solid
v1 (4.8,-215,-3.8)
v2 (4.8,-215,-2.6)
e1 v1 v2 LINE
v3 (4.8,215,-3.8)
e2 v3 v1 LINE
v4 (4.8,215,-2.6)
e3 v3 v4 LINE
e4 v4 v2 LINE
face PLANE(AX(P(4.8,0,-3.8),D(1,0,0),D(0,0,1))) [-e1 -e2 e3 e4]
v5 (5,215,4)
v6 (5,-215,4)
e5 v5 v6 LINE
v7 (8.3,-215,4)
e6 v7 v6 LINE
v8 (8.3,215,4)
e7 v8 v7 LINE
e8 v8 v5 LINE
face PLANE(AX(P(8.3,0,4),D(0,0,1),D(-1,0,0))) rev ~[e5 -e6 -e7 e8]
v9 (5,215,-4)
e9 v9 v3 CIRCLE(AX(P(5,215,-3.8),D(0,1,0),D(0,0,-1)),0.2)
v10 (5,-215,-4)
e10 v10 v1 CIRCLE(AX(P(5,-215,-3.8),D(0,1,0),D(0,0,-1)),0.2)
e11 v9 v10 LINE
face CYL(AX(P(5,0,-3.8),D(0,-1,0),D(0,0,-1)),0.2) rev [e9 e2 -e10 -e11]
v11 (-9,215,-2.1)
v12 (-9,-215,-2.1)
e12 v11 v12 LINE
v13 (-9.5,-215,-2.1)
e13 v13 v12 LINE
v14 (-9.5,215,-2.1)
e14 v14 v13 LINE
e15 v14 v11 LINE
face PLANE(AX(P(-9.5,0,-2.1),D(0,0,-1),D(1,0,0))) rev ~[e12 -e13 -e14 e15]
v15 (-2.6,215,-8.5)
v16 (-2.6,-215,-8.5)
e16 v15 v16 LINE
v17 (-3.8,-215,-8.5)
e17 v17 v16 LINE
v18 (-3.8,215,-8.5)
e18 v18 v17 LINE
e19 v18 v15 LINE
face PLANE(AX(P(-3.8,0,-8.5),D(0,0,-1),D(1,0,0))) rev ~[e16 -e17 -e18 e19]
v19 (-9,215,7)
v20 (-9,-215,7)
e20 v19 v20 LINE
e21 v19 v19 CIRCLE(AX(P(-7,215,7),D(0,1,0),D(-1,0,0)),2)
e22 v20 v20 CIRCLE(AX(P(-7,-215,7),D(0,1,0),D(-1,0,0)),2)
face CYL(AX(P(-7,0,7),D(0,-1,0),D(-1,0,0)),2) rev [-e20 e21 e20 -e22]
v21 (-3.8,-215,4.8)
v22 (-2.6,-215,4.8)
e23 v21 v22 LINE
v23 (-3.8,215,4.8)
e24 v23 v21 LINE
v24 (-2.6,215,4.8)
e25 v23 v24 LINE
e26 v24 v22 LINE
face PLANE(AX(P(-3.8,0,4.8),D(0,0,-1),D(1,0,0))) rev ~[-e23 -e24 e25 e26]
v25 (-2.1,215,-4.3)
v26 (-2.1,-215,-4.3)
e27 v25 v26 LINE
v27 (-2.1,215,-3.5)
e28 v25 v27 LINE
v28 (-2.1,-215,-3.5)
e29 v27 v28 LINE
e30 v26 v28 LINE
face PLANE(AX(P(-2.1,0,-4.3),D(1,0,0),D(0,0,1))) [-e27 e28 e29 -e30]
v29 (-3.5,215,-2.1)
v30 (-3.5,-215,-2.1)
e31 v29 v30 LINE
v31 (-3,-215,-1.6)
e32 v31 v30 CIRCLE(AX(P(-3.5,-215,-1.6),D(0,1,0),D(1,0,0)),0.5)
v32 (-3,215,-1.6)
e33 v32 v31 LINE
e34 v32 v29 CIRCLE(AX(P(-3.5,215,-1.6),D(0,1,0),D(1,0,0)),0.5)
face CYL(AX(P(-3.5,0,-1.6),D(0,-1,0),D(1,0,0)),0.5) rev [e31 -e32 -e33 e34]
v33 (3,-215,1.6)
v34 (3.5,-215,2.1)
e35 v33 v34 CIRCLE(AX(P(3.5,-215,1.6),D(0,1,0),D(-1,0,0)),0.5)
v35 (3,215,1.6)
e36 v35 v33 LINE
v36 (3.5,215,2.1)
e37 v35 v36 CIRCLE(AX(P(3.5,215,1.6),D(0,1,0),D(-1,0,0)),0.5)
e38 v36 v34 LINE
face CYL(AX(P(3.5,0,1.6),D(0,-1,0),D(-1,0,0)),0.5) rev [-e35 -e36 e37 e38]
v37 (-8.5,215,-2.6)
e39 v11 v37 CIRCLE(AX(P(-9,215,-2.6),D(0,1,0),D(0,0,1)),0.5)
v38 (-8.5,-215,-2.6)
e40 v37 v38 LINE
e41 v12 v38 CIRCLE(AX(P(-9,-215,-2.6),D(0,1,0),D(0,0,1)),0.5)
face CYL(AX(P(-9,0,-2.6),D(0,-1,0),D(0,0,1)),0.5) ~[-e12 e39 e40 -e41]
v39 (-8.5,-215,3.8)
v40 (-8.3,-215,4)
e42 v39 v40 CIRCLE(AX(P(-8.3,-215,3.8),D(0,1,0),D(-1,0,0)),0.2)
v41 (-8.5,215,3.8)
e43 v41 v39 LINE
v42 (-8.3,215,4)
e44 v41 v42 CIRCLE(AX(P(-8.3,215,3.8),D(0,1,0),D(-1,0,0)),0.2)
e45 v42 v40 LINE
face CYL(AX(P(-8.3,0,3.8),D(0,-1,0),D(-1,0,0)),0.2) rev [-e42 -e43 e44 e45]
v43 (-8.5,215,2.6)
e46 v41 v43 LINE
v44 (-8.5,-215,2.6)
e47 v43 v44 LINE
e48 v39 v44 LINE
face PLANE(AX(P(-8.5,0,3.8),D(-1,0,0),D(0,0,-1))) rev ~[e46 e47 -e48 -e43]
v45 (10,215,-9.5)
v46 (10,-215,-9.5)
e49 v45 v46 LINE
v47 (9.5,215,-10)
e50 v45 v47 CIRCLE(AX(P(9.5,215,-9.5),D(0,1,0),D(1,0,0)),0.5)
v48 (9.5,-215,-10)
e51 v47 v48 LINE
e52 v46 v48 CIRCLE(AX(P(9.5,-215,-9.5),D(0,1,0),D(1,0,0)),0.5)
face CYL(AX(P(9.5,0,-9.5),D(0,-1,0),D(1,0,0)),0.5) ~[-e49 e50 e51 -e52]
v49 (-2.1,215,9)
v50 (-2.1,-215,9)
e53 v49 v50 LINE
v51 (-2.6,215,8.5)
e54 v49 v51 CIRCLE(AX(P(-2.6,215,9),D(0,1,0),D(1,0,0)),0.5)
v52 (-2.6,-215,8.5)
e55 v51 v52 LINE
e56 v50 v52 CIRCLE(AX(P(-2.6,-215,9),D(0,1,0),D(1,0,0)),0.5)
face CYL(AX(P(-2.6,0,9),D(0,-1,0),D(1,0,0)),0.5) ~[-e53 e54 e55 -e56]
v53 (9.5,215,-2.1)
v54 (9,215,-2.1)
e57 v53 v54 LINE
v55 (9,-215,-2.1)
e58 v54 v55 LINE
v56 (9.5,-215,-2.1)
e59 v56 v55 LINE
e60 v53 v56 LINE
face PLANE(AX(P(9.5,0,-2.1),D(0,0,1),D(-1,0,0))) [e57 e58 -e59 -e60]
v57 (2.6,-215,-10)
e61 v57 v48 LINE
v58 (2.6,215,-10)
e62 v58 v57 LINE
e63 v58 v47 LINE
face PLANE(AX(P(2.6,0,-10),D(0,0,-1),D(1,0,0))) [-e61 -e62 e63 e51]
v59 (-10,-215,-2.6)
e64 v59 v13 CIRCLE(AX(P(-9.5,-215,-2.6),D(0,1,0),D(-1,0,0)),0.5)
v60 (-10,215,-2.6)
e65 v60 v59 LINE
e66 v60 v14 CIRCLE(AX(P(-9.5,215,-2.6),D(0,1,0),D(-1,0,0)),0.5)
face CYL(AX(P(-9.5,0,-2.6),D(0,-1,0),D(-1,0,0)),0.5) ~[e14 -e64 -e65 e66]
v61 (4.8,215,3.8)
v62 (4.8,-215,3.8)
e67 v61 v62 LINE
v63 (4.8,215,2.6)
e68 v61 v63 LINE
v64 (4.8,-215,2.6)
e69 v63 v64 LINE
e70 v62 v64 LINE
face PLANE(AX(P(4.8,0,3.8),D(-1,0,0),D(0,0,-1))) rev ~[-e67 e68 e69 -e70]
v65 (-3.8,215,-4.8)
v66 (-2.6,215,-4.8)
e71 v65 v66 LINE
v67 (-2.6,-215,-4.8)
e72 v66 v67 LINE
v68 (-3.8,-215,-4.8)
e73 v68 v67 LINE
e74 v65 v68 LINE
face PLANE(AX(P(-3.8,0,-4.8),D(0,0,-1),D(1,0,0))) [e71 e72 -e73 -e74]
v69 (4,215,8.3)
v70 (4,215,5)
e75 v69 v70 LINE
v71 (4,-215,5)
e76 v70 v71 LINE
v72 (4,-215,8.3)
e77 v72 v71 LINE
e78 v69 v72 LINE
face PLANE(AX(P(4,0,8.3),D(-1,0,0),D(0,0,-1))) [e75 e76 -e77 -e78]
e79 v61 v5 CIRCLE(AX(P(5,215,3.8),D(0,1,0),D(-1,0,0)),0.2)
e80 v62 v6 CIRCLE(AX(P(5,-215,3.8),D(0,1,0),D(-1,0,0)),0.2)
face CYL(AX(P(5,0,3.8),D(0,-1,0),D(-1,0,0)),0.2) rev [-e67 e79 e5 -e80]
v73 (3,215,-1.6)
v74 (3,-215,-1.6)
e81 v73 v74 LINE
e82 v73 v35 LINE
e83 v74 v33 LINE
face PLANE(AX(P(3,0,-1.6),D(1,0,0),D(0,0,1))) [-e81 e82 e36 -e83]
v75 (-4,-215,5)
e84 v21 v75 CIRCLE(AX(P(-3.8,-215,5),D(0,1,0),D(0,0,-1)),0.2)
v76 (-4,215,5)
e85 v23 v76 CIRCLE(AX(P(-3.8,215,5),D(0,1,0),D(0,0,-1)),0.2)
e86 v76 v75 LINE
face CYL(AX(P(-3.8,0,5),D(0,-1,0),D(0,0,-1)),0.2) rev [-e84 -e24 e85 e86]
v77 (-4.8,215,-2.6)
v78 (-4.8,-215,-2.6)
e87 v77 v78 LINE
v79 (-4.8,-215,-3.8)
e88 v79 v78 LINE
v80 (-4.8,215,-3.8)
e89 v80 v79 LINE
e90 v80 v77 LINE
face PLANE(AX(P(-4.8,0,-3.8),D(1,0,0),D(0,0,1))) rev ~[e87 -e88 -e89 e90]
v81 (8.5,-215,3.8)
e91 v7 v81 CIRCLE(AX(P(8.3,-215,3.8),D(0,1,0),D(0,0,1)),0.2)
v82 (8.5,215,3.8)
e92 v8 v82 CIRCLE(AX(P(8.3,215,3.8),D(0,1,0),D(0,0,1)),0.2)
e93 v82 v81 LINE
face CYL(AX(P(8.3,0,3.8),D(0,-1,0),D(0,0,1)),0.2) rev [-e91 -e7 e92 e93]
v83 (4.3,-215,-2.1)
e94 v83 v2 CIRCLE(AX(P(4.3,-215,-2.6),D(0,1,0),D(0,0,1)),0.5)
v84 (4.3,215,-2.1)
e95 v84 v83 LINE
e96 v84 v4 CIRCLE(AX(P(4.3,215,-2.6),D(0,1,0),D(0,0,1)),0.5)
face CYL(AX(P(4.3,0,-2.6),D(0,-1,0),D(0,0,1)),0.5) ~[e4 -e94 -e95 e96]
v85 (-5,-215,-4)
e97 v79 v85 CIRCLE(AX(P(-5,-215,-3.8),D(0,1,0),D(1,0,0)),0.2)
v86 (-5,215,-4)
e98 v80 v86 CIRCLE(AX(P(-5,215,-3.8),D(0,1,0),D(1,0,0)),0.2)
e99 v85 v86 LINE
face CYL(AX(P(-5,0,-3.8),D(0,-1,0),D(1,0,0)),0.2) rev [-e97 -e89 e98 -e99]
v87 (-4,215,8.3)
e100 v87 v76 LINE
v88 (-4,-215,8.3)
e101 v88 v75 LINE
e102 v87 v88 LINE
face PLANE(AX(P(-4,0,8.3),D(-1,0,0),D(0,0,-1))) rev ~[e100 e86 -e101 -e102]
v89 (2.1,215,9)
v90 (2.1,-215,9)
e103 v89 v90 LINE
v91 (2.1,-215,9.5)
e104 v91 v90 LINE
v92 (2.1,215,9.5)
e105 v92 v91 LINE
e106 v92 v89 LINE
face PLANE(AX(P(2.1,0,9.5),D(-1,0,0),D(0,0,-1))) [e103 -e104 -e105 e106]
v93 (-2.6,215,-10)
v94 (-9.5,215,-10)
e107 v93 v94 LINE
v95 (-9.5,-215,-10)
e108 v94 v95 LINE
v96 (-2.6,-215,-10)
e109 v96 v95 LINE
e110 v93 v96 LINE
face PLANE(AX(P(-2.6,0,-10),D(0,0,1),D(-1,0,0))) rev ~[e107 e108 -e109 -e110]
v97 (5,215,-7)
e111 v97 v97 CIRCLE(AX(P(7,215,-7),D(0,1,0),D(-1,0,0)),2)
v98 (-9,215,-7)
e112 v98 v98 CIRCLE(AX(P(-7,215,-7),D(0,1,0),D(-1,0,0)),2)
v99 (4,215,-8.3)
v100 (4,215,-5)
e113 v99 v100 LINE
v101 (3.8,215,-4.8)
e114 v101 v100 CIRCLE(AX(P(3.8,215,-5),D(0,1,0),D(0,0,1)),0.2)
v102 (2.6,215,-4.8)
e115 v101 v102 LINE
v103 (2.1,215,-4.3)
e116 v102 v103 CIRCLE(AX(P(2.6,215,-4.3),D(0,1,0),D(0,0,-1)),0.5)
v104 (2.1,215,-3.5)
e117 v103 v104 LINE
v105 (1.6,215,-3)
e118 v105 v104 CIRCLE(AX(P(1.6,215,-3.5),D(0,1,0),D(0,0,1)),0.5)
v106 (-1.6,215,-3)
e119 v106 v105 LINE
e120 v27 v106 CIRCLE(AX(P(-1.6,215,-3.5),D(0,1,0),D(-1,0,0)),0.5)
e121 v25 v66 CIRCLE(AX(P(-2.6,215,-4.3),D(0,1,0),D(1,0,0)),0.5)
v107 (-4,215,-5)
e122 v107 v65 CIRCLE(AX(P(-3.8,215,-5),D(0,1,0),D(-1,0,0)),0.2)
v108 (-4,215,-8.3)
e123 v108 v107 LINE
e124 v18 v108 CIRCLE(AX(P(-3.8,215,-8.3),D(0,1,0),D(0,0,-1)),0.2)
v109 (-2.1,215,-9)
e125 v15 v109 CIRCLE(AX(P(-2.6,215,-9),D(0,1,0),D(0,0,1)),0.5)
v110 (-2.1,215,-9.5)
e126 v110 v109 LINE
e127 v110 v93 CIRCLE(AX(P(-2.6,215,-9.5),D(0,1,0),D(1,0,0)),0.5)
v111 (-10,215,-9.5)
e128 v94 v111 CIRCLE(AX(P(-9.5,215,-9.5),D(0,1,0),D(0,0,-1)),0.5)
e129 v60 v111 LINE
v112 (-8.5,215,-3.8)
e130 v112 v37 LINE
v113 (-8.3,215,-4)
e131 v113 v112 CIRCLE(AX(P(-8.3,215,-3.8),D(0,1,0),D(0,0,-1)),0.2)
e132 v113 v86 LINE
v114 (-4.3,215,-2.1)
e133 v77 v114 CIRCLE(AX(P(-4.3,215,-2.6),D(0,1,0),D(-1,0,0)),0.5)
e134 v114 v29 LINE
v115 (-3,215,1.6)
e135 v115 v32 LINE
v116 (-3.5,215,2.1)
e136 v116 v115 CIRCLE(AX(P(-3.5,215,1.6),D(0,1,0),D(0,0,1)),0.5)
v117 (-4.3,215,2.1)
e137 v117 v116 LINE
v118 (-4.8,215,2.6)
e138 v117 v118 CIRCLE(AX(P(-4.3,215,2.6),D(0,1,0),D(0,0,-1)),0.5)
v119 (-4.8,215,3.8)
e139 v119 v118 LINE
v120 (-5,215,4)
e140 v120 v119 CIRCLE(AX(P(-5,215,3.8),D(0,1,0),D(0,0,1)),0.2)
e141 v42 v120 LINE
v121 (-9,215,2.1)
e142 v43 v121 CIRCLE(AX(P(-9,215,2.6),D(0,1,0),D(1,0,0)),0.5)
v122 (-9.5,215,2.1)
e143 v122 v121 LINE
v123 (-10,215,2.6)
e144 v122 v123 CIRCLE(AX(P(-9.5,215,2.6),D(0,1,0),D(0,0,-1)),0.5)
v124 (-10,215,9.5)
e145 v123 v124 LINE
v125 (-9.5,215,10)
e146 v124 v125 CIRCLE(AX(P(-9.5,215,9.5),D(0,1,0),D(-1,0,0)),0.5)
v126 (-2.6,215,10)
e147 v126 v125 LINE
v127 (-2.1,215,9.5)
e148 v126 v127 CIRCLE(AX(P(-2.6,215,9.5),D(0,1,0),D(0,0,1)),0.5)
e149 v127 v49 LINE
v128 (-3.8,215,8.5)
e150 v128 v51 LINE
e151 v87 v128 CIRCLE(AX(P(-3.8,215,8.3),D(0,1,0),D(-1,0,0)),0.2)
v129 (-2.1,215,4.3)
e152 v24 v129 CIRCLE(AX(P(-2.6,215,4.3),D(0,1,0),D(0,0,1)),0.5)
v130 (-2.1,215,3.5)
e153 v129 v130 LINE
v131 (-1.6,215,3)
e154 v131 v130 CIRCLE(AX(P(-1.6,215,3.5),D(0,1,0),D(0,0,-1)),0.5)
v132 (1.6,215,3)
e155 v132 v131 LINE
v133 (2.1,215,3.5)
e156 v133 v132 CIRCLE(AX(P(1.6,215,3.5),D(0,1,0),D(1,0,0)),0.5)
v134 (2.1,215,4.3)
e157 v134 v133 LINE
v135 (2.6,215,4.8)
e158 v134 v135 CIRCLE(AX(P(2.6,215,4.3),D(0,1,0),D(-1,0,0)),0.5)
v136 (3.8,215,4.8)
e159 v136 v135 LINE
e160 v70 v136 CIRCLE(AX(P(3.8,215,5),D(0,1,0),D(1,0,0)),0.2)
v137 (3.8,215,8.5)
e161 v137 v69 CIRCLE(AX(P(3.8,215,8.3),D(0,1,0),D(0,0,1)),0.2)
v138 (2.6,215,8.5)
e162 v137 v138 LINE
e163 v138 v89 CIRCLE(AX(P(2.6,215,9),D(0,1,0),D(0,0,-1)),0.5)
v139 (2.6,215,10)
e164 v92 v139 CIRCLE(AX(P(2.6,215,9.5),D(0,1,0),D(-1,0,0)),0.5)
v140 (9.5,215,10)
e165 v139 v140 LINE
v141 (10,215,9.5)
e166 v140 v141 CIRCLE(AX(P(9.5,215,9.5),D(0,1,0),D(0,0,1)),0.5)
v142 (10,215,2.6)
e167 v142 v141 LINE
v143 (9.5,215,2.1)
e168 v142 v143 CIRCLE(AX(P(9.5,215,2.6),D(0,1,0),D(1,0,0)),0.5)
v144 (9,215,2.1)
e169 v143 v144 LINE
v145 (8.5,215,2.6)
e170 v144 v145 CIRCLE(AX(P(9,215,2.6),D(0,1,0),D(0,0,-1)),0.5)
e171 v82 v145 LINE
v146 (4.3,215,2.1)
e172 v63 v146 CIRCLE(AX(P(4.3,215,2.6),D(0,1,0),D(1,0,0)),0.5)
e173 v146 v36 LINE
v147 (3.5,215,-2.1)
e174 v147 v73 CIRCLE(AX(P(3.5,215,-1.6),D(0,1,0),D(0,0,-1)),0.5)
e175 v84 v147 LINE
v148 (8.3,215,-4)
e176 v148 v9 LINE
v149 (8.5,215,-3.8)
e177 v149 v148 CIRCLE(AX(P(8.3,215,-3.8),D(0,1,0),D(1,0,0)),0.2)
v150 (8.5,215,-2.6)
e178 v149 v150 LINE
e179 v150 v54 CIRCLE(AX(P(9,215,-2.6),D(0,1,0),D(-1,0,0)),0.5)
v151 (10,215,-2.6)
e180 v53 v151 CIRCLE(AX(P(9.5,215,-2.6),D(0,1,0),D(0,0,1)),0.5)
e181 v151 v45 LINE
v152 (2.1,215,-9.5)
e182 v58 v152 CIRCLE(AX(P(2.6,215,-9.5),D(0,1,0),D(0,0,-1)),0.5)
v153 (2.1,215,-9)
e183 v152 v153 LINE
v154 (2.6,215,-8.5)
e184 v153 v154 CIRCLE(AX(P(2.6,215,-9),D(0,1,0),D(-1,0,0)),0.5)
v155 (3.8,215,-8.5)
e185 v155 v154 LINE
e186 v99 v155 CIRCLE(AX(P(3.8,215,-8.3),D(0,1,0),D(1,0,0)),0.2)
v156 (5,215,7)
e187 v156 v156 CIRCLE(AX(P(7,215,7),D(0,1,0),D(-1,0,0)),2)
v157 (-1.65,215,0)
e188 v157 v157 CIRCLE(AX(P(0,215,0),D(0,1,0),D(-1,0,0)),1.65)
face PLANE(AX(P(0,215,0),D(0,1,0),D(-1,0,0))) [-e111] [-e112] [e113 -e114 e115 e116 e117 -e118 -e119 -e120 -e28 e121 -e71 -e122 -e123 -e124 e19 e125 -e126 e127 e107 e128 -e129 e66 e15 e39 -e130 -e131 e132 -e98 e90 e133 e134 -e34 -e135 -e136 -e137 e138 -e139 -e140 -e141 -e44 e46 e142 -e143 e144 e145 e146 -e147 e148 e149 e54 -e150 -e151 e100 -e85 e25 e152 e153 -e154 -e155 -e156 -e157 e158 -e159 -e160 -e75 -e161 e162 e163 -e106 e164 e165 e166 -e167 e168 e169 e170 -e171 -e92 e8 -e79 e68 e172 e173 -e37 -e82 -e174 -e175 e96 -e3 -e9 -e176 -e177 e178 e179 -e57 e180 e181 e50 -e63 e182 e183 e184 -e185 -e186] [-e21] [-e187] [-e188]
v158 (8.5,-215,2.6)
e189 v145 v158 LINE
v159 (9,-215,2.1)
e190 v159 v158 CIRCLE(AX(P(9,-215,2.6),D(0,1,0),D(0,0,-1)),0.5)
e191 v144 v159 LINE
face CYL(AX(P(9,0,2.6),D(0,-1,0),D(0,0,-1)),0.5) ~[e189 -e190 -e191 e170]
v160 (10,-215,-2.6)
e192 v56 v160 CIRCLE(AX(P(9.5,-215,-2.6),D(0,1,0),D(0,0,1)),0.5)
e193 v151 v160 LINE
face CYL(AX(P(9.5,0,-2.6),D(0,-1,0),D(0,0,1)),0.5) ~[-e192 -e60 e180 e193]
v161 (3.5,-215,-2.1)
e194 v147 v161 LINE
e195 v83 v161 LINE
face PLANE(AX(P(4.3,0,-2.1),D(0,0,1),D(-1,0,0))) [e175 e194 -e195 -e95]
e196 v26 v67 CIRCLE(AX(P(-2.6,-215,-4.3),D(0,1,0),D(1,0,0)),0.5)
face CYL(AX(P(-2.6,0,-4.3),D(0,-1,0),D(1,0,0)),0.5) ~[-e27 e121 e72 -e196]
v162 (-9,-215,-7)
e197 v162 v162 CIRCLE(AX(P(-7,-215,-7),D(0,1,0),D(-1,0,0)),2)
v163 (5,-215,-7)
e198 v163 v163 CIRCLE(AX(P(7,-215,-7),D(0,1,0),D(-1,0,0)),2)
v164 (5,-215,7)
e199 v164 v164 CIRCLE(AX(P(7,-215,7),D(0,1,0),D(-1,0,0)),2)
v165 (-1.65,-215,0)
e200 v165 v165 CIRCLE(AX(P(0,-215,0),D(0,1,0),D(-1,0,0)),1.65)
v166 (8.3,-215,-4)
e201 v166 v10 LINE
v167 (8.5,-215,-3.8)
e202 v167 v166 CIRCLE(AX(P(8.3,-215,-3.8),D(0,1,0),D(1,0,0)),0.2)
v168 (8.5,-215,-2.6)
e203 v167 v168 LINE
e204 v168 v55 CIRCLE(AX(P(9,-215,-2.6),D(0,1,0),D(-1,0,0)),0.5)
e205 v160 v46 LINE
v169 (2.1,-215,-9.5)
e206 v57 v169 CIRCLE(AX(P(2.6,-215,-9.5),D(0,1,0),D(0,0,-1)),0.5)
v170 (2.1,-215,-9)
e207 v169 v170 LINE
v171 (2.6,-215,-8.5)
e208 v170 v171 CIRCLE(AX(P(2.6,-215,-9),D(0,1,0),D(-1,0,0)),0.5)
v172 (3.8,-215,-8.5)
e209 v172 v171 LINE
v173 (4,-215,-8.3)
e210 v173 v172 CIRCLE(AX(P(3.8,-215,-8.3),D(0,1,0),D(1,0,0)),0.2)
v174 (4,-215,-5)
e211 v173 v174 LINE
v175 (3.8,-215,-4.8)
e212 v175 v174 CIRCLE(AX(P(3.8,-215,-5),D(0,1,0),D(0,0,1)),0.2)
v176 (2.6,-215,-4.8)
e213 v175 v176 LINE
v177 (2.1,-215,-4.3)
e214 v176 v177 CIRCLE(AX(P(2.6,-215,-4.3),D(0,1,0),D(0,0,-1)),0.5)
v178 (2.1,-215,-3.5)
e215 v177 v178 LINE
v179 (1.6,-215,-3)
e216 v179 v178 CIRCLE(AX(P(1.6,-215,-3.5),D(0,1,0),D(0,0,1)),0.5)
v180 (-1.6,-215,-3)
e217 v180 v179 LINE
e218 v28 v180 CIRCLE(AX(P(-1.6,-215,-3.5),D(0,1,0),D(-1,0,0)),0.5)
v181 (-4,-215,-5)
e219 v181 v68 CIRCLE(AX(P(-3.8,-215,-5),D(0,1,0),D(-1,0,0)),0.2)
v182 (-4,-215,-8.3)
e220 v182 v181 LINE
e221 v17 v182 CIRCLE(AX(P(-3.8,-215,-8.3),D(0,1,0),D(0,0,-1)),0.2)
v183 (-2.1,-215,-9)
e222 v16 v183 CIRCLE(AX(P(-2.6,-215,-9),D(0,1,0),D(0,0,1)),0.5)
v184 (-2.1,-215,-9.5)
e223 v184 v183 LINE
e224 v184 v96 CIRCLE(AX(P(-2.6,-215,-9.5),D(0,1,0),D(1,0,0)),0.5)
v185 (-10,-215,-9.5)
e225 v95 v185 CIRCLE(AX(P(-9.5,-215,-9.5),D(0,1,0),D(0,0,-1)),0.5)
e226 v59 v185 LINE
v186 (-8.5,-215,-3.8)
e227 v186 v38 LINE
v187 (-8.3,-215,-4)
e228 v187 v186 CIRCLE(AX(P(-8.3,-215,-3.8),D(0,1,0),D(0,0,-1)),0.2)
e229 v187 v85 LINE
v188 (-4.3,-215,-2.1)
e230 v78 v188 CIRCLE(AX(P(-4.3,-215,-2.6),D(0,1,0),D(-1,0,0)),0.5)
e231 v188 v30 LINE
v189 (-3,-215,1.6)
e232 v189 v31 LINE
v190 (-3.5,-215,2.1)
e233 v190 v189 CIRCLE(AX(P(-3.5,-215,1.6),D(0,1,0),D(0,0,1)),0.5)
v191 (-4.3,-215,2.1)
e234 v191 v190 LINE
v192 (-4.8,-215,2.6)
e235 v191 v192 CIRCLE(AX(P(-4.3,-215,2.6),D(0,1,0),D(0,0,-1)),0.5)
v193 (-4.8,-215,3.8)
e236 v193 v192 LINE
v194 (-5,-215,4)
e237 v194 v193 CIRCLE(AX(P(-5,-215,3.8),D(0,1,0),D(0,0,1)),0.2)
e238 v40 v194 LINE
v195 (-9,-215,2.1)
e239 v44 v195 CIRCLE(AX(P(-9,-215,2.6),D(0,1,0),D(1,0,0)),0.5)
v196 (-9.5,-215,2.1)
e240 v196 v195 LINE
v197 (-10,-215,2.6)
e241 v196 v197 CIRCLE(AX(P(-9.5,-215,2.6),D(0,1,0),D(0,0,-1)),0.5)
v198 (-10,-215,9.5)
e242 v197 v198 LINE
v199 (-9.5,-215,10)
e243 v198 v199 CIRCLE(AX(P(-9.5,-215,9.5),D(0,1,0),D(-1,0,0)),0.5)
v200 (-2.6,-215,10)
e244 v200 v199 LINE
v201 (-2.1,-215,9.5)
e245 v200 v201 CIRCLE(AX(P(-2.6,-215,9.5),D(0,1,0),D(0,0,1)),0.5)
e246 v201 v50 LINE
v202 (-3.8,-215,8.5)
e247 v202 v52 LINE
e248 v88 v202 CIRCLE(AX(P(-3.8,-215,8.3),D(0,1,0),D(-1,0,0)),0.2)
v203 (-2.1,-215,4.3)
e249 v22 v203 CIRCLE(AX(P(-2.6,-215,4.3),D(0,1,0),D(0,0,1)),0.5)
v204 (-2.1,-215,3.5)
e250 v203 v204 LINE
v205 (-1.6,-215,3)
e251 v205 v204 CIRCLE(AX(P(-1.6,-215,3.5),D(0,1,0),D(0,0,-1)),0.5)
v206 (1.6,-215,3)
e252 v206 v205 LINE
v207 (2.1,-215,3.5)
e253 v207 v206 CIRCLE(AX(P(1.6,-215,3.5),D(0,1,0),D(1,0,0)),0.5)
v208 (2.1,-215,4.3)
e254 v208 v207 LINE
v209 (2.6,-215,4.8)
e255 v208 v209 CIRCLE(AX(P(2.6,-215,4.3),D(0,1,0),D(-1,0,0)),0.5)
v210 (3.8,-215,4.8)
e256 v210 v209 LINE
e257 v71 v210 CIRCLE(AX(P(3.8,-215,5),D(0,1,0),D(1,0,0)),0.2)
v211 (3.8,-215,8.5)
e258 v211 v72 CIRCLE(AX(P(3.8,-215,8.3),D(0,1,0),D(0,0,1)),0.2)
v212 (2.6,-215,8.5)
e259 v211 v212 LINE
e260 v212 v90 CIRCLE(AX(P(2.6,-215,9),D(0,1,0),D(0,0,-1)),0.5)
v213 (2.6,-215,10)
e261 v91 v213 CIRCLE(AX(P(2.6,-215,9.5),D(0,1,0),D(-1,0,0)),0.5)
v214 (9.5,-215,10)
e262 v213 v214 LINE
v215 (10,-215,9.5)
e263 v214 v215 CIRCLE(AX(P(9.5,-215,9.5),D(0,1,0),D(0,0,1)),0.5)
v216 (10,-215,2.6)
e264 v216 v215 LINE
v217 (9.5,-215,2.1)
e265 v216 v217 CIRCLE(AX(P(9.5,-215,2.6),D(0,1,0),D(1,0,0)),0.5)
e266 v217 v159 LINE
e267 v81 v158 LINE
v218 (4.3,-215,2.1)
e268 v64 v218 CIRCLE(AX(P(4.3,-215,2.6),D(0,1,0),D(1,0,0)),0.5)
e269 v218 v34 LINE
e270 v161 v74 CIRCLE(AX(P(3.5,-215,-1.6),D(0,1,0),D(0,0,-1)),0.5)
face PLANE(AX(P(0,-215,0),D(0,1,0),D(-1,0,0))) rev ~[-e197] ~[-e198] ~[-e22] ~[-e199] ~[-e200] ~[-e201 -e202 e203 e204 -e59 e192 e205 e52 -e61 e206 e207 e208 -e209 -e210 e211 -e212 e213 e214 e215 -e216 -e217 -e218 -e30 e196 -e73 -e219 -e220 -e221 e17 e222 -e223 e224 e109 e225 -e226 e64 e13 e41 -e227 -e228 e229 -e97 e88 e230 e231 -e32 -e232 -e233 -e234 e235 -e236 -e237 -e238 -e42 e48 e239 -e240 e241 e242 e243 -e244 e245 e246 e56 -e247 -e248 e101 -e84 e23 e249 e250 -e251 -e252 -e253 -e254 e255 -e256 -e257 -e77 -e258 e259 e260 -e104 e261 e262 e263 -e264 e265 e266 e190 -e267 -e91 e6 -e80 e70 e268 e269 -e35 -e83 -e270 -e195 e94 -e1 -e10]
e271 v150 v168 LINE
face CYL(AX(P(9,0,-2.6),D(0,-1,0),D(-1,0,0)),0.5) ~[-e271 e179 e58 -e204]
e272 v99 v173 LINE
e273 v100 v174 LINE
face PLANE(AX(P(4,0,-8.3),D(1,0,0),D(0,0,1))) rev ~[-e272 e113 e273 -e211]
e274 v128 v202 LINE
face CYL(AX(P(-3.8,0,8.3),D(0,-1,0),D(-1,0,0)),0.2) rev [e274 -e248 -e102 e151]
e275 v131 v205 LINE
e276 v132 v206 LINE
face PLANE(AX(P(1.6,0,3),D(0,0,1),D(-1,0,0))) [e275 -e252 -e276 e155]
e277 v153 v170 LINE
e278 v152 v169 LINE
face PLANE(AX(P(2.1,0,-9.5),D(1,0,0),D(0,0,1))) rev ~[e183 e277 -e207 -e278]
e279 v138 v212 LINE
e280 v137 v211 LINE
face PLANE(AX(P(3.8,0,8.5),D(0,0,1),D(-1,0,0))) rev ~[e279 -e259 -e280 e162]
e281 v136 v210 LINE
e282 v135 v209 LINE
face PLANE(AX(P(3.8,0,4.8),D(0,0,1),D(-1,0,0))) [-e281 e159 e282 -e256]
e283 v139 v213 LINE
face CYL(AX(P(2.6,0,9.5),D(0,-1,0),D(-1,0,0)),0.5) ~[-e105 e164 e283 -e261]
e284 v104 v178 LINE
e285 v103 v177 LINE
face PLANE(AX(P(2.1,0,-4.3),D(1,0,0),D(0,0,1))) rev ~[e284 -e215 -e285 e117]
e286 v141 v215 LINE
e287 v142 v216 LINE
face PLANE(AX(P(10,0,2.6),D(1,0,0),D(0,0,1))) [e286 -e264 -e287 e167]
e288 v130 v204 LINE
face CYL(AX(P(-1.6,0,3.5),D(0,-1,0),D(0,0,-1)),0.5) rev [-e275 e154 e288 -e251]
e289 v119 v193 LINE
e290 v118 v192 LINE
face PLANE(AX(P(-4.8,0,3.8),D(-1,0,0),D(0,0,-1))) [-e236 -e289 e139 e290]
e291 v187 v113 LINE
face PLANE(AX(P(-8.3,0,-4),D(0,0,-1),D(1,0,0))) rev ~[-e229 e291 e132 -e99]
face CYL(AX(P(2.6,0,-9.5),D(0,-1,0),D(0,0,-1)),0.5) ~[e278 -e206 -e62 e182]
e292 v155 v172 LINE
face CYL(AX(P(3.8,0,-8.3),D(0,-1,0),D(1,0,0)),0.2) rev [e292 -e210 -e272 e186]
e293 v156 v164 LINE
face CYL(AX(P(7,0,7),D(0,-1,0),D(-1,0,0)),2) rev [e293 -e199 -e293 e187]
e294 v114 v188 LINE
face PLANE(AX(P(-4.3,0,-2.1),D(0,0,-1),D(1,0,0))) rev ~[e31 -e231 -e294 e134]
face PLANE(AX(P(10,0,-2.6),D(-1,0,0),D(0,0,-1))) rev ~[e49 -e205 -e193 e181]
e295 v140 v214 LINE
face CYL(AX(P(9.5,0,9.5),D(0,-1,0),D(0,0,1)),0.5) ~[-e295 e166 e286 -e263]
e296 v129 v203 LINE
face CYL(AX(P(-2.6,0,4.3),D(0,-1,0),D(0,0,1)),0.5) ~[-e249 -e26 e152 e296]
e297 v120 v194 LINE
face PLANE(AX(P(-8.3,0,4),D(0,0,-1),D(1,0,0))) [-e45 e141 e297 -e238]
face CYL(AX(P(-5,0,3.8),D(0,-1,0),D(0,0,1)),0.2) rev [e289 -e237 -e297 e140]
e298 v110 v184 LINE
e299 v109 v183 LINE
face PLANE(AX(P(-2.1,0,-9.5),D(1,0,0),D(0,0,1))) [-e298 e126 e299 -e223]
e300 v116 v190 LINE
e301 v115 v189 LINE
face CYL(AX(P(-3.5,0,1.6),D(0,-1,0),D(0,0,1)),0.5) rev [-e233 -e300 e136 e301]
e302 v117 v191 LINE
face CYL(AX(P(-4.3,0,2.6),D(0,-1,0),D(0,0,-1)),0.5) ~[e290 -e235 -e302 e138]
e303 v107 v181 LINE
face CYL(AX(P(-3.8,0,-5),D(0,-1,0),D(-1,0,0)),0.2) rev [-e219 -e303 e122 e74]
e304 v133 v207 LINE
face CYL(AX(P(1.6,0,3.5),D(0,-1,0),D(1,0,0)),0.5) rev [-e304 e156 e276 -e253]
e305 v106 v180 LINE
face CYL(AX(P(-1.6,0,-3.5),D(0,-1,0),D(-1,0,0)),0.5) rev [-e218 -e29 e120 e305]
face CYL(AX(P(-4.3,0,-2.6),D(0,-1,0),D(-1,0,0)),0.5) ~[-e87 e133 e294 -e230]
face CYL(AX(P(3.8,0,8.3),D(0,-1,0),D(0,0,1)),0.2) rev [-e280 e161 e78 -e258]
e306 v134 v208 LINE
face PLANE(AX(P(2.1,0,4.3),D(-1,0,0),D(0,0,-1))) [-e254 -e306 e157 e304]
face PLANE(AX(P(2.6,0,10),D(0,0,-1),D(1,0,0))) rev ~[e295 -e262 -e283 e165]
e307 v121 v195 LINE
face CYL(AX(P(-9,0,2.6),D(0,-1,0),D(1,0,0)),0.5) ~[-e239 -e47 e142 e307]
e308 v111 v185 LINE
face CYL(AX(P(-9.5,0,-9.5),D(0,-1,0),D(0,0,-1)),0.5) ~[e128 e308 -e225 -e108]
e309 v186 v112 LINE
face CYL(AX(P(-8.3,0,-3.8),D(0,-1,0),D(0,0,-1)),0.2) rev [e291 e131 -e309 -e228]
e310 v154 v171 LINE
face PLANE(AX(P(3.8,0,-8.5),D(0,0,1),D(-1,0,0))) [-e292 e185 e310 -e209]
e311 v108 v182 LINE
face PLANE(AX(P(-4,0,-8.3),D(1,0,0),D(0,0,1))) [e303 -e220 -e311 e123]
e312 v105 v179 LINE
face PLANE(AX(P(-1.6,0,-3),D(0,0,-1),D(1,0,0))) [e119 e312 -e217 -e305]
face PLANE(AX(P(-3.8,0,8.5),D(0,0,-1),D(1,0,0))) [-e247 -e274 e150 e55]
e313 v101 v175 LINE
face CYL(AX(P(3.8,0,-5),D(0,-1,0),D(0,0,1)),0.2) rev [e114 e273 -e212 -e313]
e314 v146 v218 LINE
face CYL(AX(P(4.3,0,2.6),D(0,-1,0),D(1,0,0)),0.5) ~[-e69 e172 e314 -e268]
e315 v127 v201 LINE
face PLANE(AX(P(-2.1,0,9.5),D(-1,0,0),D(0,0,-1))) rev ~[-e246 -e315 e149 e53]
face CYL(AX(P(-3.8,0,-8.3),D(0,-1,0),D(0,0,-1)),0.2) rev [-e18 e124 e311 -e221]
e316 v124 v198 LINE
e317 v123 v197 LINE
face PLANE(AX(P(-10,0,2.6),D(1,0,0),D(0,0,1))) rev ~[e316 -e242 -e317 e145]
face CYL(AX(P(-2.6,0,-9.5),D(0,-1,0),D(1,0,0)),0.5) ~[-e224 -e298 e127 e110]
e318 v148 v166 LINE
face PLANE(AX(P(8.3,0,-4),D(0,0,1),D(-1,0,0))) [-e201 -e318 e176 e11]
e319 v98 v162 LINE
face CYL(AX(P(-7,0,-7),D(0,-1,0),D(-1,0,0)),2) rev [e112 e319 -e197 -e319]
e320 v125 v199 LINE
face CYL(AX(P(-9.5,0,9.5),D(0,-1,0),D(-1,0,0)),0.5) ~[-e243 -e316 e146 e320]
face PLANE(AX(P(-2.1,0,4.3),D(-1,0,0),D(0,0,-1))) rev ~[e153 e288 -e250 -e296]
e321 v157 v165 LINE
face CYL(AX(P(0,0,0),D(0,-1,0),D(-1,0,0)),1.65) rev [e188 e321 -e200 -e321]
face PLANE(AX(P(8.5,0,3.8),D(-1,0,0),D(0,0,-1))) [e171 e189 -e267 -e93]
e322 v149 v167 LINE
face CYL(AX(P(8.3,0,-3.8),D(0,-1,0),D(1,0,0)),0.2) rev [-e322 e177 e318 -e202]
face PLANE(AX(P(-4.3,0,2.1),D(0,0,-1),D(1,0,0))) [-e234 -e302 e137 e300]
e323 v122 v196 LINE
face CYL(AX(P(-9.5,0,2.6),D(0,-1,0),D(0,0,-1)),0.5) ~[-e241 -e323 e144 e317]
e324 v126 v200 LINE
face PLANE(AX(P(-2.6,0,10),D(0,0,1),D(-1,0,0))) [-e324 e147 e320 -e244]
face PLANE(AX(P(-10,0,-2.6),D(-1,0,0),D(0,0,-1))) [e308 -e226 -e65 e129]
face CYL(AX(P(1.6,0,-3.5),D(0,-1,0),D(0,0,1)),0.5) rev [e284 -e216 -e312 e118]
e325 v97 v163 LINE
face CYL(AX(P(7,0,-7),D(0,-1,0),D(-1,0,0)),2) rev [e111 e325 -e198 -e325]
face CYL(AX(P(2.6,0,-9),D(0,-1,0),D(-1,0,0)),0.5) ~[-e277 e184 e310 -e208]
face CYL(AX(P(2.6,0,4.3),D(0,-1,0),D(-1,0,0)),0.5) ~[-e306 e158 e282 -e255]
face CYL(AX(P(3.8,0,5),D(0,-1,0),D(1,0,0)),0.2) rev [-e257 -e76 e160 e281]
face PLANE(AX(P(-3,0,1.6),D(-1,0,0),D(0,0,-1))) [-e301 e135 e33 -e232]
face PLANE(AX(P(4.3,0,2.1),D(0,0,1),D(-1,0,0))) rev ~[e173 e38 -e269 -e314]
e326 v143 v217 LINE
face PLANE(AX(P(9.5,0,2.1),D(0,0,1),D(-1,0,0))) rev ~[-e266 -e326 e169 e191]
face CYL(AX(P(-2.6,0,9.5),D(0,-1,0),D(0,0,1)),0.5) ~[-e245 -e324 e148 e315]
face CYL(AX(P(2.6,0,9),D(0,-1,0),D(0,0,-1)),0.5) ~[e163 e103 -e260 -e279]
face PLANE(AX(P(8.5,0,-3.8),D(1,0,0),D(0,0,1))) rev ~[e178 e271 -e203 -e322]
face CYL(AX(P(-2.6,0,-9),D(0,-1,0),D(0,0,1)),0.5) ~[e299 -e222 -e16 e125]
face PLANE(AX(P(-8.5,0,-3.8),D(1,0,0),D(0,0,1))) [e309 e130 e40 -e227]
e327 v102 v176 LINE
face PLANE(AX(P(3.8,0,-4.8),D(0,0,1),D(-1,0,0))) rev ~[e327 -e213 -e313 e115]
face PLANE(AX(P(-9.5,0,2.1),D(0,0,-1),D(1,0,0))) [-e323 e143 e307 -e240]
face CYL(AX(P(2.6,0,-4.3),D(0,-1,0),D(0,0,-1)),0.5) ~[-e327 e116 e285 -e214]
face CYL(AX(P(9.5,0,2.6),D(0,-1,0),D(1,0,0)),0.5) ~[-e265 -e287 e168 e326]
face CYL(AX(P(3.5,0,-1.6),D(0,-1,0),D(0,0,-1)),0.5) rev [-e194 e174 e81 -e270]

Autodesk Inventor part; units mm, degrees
ref_plane "YZ Plane" through (0, 0, 0) normal (1, 0, 0) x (0, 1, 0)
ref_plane "XZ Plane" through (0, 0, 0) normal (0, 1, 0) x (-1, 0, 0)
ref_plane "XY Plane" through (0, 0, 0) normal (0, 0, 1) x (1, 0, 0)
sketch "スケッチ" plane through (0, 0, 0) normal (0, 1, 0) x (-1, 0, 0)
  line L0 (8.5, -3.8) -> (8.5, -2.6)
  line L1 (4, -8.3) -> (4, -5)
  circle A0 centre (7, -7) radius 2
  line L2 (10, -2.6) -> (10, -9.5)
  line L3 (2.6, -10) -> (9.5, -10)
  line L4 (2.1, -9.5) -> (2.1, -9)
  line L5 (8.5, -2.1) -> (8.5, -4)
  line L6 (3.8, -4.8) -> (2.6, -4.8)
  line L7 (4.8, -3.8) -> (4.8, -2.6)
  arc A1 (2.1, -4.3) -> (2.6, -4.8) centre (2.6, -4.3) ccw
  arc A2 (2.6, -8.5) -> (2.1, -9) centre (2.6, -9) ccw
  arc A3 (3.8, -8.5) -> (4, -8.3) centre (3.8, -8.3) ccw
  arc A4 (4, -5) -> (3.8, -4.8) centre (3.8, -5) ccw
  arc A5 (2.1, -3.5) -> (1.6, -3) centre (1.6, -3.5) ccw
  arc A6 (2.1, -9.5) -> (2.6, -10) centre (2.6, -9.5) ccw
  arc A7 (9.5, -10) -> (10, -9.5) centre (9.5, -9.5) ccw
  arc A8 (10, -2.6) -> (9.5, -2.1) centre (9.5, -2.6) ccw
  arc A9 (9, -2.1) -> (8.5, -2.6) centre (9, -2.6) ccw
  arc A10 (8.3, -4) -> (8.5, -3.8) centre (8.3, -3.8) ccw
  arc A11 (4.8, -3.8) -> (5, -4) centre (5, -3.8) ccw
  line L8 (4.3, -2.1) -> (3.5, -2.1)
  arc A12 (4.8, -2.6) -> (4.3, -2.1) centre (4.3, -2.6) ccw
  arc A13 (3, -1.6) -> (3.5, -2.1) centre (3.5, -1.6) ccw
  line L9 (2.1, -4.3) -> (2.1, -3.5)
  line L10 (3.8, -8.5) -> (2.6, -8.5)
  line L11 (9.5, -2.1) -> (9, -2.1)
  line L12 (8.3, -4) -> (5, -4)
  circle A14 centre (0, 0) radius 1.65
  arc A15 (8.5, 2.6) -> (9, 2.1) centre (9, 2.6) ccw
  line L13 (8.5, 3.8) -> (8.5, 2.6)
  arc A16 (8.5, 3.8) -> (8.3, 4) centre (8.3, 3.8) ccw
  line L14 (8.3, 4) -> (5, 4)
  line L15 (10, 2.6) -> (10, 9.5)
  arc A17 (10, 9.5) -> (9.5, 10) centre (9.5, 9.5) ccw
  circle A18 centre (7, 7) radius 2
  line L16 (4, 8.3) -> (4, 5)
  line L17 (2.6, 10) -> (9.5, 10)
  line L18 (9.5, 2.1) -> (9, 2.1)
  arc A19 (9.5, 2.1) -> (10, 2.6) centre (9.5, 2.6) ccw
  line L19 (3.8, 8.5) -> (2.6, 8.5)
  line L20 (4.8, 3.8) -> (4.8, 2.6)
  arc A20 (4.3, 2.1) -> (4.8, 2.6) centre (4.3, 2.6) ccw
  line L21 (2.1, 8.5) -> (4, 8.5)
  arc A21 (4, 8.3) -> (3.8, 8.5) centre (3.8, 8.3) ccw
  arc A22 (2.1, 9) -> (2.6, 8.5) centre (2.6, 9) ccw
  arc A23 (2.6, 10) -> (2.1, 9.5) centre (2.6, 9.5) ccw
  line L22 (2.1, 9.5) -> (2.1, 9)
  arc A24 (1.6, 3) -> (2.1, 3.5) centre (1.6, 3.5) ccw
  line L23 (3.8, 4.8) -> (2.6, 4.8)
  arc A25 (5, 4) -> (4.8, 3.8) centre (5, 3.8) ccw
  arc A26 (3.8, 4.8) -> (4, 5) centre (3.8, 5) ccw
  line L24 (4.3, 2.1) -> (3.5, 2.1)
  arc A27 (2.6, 4.8) -> (2.1, 4.3) centre (2.6, 4.3) ccw
  line L25 (2.1, 4.3) -> (2.1, 3.5)
  arc A28 (3.5, 2.1) -> (3, 1.6) centre (3.5, 1.6) ccw
  arc A29 (-2.6, 8.5) -> (-2.1, 9) centre (-2.6, 9) ccw
  line L26 (-3.8, 8.5) -> (-2.6, 8.5)
  arc A30 (-3.8, 8.5) -> (-4, 8.3) centre (-3.8, 8.3) ccw
  line L27 (-4, 8.3) -> (-4, 5)
  line L28 (-2.6, 10) -> (-9.5, 10)
  arc A31 (-9.5, 10) -> (-10, 9.5) centre (-9.5, 9.5) ccw
  circle A32 centre (-7, 7) radius 2
  line L29 (-8.3, 4) -> (-5, 4)
  line L30 (-10, 2.6) -> (-10, 9.5)
  line L31 (-2.1, 9.5) -> (-2.1, 9)
  arc A33 (-2.1, 9.5) -> (-2.6, 10) centre (-2.6, 9.5) ccw
  line L32 (-8.5, 3.8) -> (-8.5, 2.6)
  line L33 (-3.8, 4.8) -> (-2.6, 4.8)
  arc A34 (-2.1, 4.3) -> (-2.6, 4.8) centre (-2.6, 4.3) ccw
  line L34 (-8.5, 2.1) -> (-8.5, 4)
  arc A35 (-8.3, 4) -> (-8.5, 3.8) centre (-8.3, 3.8) ccw
  arc A36 (-9, 2.1) -> (-8.5, 2.6) centre (-9, 2.6) ccw
  arc A37 (-10, 2.6) -> (-9.5, 2.1) centre (-9.5, 2.6) ccw
  line L35 (-9.5, 2.1) -> (-9, 2.1)
  arc A38 (-3, 1.6) -> (-3.5, 2.1) centre (-3.5, 1.6) ccw
  line L36 (-4.8, 3.8) -> (-4.8, 2.6)
  arc A39 (-4, 5) -> (-3.8, 4.8) centre (-3.8, 5) ccw
  arc A40 (-4.8, 3.8) -> (-5, 4) centre (-5, 3.8) ccw
  line L37 (-2.1, 4.3) -> (-2.1, 3.5)
  arc A41 (-4.8, 2.6) -> (-4.3, 2.1) centre (-4.3, 2.6) ccw
  line L38 (-4.3, 2.1) -> (-3.5, 2.1)
  arc A42 (-2.1, 3.5) -> (-1.6, 3) centre (-1.6, 3.5) ccw
  arc A43 (-8.5, -2.6) -> (-9, -2.1) centre (-9, -2.6) ccw
  line L39 (-8.5, -3.8) -> (-8.5, -2.6)
  arc A44 (-8.5, -3.8) -> (-8.3, -4) centre (-8.3, -3.8) ccw
  line L40 (-8.3, -4) -> (-5, -4)
  line L41 (-10, -2.6) -> (-10, -9.5)
  arc A45 (-10, -9.5) -> (-9.5, -10) centre (-9.5, -9.5) ccw
  circle A46 centre (-7, -7) radius 2
  line L42 (-4, -8.3) -> (-4, -5)
  line L43 (-2.6, -10) -> (-9.5, -10)
  line L44 (-9.5, -2.1) -> (-9, -2.1)
  arc A47 (-9.5, -2.1) -> (-10, -2.6) centre (-9.5, -2.6) ccw
  line L45 (-3.8, -8.5) -> (-2.6, -8.5)
  line L46 (-4.8, -3.8) -> (-4.8, -2.6)
  arc A48 (-4.3, -2.1) -> (-4.8, -2.6) centre (-4.3, -2.6) ccw
  line L47 (-2.1, -8.5) -> (-4, -8.5)
  arc A49 (-4, -8.3) -> (-3.8, -8.5) centre (-3.8, -8.3) ccw
  arc A50 (-2.1, -9) -> (-2.6, -8.5) centre (-2.6, -9) ccw
  arc A51 (-2.6, -10) -> (-2.1, -9.5) centre (-2.6, -9.5) ccw
  line L48 (-2.1, -9.5) -> (-2.1, -9)
  arc A52 (-1.6, -3) -> (-2.1, -3.5) centre (-1.6, -3.5) ccw
  line L49 (-3.8, -4.8) -> (-2.6, -4.8)
  arc A53 (-5, -4) -> (-4.8, -3.8) centre (-5, -3.8) ccw
  arc A54 (-3.8, -4.8) -> (-4, -5) centre (-3.8, -5) ccw
  line L50 (-4.3, -2.1) -> (-3.5, -2.1)
  arc A55 (-2.6, -4.8) -> (-2.1, -4.3) centre (-2.6, -4.3) ccw
  line L51 (-2.1, -4.3) -> (-2.1, -3.5)
  arc A56 (-3.5, -2.1) -> (-3, -1.6) centre (-3.5, -1.6) ccw
  line L52 (1.6, -3) -> (-1.6, -3)
  line L53 (-3, -1.6) -> (-3, 1.6)
  line L54 (-1.6, 3) -> (1.6, 3)
  line L55 (3, 1.6) -> (3, -1.6)
  point P0 (2.1, -10)
  point P1 (10, 2.1)
  point P2 (-2.1, 10)
  point P3 (-10, -2.1)
  dimension "d12" = 4
  dimension "d14" = 3.7
  dimension "d16" = 0.5
  dimension "d17" = 0.5
  dimension "d18" = 0.2
  dimension "d19" = 0.5
  dimension "d20" = 0.5
  dimension "d24" = 0.5
  dimension "d25" = 0.2
  dimension "d28" = 0.5
  dimension "d31" = 1.5
  dimension "d36" = 3.7
  dimension "d37" = 1.5
  dimension "d58" = 3.3
  dimension "d65" = 10
  dimension "d67" = 2.1
  dimension "d68" = 2.1
  dimension "d69" = 1.9
  dimension "d70" = 7
  dimension "d72" = 2.1
  dimension "d73" = 2.1
  dimension "d74" = 1.9
  dimension "d75" = 7
  dimension "d76" = 10
  dimension "d80" = 360
  dimension "d82" = 3
extrude "ボディ" add sketch "スケッチ" along normal mid plane 430
equation "\"G_OFFSET_START\" = 0"
equation "\"G_OFFSET_END\" = 0"
equation "\"G_L\" = d90"
equation "\"d90\" = 330"
properties part number "s430" material "アルミニウム 6061"
